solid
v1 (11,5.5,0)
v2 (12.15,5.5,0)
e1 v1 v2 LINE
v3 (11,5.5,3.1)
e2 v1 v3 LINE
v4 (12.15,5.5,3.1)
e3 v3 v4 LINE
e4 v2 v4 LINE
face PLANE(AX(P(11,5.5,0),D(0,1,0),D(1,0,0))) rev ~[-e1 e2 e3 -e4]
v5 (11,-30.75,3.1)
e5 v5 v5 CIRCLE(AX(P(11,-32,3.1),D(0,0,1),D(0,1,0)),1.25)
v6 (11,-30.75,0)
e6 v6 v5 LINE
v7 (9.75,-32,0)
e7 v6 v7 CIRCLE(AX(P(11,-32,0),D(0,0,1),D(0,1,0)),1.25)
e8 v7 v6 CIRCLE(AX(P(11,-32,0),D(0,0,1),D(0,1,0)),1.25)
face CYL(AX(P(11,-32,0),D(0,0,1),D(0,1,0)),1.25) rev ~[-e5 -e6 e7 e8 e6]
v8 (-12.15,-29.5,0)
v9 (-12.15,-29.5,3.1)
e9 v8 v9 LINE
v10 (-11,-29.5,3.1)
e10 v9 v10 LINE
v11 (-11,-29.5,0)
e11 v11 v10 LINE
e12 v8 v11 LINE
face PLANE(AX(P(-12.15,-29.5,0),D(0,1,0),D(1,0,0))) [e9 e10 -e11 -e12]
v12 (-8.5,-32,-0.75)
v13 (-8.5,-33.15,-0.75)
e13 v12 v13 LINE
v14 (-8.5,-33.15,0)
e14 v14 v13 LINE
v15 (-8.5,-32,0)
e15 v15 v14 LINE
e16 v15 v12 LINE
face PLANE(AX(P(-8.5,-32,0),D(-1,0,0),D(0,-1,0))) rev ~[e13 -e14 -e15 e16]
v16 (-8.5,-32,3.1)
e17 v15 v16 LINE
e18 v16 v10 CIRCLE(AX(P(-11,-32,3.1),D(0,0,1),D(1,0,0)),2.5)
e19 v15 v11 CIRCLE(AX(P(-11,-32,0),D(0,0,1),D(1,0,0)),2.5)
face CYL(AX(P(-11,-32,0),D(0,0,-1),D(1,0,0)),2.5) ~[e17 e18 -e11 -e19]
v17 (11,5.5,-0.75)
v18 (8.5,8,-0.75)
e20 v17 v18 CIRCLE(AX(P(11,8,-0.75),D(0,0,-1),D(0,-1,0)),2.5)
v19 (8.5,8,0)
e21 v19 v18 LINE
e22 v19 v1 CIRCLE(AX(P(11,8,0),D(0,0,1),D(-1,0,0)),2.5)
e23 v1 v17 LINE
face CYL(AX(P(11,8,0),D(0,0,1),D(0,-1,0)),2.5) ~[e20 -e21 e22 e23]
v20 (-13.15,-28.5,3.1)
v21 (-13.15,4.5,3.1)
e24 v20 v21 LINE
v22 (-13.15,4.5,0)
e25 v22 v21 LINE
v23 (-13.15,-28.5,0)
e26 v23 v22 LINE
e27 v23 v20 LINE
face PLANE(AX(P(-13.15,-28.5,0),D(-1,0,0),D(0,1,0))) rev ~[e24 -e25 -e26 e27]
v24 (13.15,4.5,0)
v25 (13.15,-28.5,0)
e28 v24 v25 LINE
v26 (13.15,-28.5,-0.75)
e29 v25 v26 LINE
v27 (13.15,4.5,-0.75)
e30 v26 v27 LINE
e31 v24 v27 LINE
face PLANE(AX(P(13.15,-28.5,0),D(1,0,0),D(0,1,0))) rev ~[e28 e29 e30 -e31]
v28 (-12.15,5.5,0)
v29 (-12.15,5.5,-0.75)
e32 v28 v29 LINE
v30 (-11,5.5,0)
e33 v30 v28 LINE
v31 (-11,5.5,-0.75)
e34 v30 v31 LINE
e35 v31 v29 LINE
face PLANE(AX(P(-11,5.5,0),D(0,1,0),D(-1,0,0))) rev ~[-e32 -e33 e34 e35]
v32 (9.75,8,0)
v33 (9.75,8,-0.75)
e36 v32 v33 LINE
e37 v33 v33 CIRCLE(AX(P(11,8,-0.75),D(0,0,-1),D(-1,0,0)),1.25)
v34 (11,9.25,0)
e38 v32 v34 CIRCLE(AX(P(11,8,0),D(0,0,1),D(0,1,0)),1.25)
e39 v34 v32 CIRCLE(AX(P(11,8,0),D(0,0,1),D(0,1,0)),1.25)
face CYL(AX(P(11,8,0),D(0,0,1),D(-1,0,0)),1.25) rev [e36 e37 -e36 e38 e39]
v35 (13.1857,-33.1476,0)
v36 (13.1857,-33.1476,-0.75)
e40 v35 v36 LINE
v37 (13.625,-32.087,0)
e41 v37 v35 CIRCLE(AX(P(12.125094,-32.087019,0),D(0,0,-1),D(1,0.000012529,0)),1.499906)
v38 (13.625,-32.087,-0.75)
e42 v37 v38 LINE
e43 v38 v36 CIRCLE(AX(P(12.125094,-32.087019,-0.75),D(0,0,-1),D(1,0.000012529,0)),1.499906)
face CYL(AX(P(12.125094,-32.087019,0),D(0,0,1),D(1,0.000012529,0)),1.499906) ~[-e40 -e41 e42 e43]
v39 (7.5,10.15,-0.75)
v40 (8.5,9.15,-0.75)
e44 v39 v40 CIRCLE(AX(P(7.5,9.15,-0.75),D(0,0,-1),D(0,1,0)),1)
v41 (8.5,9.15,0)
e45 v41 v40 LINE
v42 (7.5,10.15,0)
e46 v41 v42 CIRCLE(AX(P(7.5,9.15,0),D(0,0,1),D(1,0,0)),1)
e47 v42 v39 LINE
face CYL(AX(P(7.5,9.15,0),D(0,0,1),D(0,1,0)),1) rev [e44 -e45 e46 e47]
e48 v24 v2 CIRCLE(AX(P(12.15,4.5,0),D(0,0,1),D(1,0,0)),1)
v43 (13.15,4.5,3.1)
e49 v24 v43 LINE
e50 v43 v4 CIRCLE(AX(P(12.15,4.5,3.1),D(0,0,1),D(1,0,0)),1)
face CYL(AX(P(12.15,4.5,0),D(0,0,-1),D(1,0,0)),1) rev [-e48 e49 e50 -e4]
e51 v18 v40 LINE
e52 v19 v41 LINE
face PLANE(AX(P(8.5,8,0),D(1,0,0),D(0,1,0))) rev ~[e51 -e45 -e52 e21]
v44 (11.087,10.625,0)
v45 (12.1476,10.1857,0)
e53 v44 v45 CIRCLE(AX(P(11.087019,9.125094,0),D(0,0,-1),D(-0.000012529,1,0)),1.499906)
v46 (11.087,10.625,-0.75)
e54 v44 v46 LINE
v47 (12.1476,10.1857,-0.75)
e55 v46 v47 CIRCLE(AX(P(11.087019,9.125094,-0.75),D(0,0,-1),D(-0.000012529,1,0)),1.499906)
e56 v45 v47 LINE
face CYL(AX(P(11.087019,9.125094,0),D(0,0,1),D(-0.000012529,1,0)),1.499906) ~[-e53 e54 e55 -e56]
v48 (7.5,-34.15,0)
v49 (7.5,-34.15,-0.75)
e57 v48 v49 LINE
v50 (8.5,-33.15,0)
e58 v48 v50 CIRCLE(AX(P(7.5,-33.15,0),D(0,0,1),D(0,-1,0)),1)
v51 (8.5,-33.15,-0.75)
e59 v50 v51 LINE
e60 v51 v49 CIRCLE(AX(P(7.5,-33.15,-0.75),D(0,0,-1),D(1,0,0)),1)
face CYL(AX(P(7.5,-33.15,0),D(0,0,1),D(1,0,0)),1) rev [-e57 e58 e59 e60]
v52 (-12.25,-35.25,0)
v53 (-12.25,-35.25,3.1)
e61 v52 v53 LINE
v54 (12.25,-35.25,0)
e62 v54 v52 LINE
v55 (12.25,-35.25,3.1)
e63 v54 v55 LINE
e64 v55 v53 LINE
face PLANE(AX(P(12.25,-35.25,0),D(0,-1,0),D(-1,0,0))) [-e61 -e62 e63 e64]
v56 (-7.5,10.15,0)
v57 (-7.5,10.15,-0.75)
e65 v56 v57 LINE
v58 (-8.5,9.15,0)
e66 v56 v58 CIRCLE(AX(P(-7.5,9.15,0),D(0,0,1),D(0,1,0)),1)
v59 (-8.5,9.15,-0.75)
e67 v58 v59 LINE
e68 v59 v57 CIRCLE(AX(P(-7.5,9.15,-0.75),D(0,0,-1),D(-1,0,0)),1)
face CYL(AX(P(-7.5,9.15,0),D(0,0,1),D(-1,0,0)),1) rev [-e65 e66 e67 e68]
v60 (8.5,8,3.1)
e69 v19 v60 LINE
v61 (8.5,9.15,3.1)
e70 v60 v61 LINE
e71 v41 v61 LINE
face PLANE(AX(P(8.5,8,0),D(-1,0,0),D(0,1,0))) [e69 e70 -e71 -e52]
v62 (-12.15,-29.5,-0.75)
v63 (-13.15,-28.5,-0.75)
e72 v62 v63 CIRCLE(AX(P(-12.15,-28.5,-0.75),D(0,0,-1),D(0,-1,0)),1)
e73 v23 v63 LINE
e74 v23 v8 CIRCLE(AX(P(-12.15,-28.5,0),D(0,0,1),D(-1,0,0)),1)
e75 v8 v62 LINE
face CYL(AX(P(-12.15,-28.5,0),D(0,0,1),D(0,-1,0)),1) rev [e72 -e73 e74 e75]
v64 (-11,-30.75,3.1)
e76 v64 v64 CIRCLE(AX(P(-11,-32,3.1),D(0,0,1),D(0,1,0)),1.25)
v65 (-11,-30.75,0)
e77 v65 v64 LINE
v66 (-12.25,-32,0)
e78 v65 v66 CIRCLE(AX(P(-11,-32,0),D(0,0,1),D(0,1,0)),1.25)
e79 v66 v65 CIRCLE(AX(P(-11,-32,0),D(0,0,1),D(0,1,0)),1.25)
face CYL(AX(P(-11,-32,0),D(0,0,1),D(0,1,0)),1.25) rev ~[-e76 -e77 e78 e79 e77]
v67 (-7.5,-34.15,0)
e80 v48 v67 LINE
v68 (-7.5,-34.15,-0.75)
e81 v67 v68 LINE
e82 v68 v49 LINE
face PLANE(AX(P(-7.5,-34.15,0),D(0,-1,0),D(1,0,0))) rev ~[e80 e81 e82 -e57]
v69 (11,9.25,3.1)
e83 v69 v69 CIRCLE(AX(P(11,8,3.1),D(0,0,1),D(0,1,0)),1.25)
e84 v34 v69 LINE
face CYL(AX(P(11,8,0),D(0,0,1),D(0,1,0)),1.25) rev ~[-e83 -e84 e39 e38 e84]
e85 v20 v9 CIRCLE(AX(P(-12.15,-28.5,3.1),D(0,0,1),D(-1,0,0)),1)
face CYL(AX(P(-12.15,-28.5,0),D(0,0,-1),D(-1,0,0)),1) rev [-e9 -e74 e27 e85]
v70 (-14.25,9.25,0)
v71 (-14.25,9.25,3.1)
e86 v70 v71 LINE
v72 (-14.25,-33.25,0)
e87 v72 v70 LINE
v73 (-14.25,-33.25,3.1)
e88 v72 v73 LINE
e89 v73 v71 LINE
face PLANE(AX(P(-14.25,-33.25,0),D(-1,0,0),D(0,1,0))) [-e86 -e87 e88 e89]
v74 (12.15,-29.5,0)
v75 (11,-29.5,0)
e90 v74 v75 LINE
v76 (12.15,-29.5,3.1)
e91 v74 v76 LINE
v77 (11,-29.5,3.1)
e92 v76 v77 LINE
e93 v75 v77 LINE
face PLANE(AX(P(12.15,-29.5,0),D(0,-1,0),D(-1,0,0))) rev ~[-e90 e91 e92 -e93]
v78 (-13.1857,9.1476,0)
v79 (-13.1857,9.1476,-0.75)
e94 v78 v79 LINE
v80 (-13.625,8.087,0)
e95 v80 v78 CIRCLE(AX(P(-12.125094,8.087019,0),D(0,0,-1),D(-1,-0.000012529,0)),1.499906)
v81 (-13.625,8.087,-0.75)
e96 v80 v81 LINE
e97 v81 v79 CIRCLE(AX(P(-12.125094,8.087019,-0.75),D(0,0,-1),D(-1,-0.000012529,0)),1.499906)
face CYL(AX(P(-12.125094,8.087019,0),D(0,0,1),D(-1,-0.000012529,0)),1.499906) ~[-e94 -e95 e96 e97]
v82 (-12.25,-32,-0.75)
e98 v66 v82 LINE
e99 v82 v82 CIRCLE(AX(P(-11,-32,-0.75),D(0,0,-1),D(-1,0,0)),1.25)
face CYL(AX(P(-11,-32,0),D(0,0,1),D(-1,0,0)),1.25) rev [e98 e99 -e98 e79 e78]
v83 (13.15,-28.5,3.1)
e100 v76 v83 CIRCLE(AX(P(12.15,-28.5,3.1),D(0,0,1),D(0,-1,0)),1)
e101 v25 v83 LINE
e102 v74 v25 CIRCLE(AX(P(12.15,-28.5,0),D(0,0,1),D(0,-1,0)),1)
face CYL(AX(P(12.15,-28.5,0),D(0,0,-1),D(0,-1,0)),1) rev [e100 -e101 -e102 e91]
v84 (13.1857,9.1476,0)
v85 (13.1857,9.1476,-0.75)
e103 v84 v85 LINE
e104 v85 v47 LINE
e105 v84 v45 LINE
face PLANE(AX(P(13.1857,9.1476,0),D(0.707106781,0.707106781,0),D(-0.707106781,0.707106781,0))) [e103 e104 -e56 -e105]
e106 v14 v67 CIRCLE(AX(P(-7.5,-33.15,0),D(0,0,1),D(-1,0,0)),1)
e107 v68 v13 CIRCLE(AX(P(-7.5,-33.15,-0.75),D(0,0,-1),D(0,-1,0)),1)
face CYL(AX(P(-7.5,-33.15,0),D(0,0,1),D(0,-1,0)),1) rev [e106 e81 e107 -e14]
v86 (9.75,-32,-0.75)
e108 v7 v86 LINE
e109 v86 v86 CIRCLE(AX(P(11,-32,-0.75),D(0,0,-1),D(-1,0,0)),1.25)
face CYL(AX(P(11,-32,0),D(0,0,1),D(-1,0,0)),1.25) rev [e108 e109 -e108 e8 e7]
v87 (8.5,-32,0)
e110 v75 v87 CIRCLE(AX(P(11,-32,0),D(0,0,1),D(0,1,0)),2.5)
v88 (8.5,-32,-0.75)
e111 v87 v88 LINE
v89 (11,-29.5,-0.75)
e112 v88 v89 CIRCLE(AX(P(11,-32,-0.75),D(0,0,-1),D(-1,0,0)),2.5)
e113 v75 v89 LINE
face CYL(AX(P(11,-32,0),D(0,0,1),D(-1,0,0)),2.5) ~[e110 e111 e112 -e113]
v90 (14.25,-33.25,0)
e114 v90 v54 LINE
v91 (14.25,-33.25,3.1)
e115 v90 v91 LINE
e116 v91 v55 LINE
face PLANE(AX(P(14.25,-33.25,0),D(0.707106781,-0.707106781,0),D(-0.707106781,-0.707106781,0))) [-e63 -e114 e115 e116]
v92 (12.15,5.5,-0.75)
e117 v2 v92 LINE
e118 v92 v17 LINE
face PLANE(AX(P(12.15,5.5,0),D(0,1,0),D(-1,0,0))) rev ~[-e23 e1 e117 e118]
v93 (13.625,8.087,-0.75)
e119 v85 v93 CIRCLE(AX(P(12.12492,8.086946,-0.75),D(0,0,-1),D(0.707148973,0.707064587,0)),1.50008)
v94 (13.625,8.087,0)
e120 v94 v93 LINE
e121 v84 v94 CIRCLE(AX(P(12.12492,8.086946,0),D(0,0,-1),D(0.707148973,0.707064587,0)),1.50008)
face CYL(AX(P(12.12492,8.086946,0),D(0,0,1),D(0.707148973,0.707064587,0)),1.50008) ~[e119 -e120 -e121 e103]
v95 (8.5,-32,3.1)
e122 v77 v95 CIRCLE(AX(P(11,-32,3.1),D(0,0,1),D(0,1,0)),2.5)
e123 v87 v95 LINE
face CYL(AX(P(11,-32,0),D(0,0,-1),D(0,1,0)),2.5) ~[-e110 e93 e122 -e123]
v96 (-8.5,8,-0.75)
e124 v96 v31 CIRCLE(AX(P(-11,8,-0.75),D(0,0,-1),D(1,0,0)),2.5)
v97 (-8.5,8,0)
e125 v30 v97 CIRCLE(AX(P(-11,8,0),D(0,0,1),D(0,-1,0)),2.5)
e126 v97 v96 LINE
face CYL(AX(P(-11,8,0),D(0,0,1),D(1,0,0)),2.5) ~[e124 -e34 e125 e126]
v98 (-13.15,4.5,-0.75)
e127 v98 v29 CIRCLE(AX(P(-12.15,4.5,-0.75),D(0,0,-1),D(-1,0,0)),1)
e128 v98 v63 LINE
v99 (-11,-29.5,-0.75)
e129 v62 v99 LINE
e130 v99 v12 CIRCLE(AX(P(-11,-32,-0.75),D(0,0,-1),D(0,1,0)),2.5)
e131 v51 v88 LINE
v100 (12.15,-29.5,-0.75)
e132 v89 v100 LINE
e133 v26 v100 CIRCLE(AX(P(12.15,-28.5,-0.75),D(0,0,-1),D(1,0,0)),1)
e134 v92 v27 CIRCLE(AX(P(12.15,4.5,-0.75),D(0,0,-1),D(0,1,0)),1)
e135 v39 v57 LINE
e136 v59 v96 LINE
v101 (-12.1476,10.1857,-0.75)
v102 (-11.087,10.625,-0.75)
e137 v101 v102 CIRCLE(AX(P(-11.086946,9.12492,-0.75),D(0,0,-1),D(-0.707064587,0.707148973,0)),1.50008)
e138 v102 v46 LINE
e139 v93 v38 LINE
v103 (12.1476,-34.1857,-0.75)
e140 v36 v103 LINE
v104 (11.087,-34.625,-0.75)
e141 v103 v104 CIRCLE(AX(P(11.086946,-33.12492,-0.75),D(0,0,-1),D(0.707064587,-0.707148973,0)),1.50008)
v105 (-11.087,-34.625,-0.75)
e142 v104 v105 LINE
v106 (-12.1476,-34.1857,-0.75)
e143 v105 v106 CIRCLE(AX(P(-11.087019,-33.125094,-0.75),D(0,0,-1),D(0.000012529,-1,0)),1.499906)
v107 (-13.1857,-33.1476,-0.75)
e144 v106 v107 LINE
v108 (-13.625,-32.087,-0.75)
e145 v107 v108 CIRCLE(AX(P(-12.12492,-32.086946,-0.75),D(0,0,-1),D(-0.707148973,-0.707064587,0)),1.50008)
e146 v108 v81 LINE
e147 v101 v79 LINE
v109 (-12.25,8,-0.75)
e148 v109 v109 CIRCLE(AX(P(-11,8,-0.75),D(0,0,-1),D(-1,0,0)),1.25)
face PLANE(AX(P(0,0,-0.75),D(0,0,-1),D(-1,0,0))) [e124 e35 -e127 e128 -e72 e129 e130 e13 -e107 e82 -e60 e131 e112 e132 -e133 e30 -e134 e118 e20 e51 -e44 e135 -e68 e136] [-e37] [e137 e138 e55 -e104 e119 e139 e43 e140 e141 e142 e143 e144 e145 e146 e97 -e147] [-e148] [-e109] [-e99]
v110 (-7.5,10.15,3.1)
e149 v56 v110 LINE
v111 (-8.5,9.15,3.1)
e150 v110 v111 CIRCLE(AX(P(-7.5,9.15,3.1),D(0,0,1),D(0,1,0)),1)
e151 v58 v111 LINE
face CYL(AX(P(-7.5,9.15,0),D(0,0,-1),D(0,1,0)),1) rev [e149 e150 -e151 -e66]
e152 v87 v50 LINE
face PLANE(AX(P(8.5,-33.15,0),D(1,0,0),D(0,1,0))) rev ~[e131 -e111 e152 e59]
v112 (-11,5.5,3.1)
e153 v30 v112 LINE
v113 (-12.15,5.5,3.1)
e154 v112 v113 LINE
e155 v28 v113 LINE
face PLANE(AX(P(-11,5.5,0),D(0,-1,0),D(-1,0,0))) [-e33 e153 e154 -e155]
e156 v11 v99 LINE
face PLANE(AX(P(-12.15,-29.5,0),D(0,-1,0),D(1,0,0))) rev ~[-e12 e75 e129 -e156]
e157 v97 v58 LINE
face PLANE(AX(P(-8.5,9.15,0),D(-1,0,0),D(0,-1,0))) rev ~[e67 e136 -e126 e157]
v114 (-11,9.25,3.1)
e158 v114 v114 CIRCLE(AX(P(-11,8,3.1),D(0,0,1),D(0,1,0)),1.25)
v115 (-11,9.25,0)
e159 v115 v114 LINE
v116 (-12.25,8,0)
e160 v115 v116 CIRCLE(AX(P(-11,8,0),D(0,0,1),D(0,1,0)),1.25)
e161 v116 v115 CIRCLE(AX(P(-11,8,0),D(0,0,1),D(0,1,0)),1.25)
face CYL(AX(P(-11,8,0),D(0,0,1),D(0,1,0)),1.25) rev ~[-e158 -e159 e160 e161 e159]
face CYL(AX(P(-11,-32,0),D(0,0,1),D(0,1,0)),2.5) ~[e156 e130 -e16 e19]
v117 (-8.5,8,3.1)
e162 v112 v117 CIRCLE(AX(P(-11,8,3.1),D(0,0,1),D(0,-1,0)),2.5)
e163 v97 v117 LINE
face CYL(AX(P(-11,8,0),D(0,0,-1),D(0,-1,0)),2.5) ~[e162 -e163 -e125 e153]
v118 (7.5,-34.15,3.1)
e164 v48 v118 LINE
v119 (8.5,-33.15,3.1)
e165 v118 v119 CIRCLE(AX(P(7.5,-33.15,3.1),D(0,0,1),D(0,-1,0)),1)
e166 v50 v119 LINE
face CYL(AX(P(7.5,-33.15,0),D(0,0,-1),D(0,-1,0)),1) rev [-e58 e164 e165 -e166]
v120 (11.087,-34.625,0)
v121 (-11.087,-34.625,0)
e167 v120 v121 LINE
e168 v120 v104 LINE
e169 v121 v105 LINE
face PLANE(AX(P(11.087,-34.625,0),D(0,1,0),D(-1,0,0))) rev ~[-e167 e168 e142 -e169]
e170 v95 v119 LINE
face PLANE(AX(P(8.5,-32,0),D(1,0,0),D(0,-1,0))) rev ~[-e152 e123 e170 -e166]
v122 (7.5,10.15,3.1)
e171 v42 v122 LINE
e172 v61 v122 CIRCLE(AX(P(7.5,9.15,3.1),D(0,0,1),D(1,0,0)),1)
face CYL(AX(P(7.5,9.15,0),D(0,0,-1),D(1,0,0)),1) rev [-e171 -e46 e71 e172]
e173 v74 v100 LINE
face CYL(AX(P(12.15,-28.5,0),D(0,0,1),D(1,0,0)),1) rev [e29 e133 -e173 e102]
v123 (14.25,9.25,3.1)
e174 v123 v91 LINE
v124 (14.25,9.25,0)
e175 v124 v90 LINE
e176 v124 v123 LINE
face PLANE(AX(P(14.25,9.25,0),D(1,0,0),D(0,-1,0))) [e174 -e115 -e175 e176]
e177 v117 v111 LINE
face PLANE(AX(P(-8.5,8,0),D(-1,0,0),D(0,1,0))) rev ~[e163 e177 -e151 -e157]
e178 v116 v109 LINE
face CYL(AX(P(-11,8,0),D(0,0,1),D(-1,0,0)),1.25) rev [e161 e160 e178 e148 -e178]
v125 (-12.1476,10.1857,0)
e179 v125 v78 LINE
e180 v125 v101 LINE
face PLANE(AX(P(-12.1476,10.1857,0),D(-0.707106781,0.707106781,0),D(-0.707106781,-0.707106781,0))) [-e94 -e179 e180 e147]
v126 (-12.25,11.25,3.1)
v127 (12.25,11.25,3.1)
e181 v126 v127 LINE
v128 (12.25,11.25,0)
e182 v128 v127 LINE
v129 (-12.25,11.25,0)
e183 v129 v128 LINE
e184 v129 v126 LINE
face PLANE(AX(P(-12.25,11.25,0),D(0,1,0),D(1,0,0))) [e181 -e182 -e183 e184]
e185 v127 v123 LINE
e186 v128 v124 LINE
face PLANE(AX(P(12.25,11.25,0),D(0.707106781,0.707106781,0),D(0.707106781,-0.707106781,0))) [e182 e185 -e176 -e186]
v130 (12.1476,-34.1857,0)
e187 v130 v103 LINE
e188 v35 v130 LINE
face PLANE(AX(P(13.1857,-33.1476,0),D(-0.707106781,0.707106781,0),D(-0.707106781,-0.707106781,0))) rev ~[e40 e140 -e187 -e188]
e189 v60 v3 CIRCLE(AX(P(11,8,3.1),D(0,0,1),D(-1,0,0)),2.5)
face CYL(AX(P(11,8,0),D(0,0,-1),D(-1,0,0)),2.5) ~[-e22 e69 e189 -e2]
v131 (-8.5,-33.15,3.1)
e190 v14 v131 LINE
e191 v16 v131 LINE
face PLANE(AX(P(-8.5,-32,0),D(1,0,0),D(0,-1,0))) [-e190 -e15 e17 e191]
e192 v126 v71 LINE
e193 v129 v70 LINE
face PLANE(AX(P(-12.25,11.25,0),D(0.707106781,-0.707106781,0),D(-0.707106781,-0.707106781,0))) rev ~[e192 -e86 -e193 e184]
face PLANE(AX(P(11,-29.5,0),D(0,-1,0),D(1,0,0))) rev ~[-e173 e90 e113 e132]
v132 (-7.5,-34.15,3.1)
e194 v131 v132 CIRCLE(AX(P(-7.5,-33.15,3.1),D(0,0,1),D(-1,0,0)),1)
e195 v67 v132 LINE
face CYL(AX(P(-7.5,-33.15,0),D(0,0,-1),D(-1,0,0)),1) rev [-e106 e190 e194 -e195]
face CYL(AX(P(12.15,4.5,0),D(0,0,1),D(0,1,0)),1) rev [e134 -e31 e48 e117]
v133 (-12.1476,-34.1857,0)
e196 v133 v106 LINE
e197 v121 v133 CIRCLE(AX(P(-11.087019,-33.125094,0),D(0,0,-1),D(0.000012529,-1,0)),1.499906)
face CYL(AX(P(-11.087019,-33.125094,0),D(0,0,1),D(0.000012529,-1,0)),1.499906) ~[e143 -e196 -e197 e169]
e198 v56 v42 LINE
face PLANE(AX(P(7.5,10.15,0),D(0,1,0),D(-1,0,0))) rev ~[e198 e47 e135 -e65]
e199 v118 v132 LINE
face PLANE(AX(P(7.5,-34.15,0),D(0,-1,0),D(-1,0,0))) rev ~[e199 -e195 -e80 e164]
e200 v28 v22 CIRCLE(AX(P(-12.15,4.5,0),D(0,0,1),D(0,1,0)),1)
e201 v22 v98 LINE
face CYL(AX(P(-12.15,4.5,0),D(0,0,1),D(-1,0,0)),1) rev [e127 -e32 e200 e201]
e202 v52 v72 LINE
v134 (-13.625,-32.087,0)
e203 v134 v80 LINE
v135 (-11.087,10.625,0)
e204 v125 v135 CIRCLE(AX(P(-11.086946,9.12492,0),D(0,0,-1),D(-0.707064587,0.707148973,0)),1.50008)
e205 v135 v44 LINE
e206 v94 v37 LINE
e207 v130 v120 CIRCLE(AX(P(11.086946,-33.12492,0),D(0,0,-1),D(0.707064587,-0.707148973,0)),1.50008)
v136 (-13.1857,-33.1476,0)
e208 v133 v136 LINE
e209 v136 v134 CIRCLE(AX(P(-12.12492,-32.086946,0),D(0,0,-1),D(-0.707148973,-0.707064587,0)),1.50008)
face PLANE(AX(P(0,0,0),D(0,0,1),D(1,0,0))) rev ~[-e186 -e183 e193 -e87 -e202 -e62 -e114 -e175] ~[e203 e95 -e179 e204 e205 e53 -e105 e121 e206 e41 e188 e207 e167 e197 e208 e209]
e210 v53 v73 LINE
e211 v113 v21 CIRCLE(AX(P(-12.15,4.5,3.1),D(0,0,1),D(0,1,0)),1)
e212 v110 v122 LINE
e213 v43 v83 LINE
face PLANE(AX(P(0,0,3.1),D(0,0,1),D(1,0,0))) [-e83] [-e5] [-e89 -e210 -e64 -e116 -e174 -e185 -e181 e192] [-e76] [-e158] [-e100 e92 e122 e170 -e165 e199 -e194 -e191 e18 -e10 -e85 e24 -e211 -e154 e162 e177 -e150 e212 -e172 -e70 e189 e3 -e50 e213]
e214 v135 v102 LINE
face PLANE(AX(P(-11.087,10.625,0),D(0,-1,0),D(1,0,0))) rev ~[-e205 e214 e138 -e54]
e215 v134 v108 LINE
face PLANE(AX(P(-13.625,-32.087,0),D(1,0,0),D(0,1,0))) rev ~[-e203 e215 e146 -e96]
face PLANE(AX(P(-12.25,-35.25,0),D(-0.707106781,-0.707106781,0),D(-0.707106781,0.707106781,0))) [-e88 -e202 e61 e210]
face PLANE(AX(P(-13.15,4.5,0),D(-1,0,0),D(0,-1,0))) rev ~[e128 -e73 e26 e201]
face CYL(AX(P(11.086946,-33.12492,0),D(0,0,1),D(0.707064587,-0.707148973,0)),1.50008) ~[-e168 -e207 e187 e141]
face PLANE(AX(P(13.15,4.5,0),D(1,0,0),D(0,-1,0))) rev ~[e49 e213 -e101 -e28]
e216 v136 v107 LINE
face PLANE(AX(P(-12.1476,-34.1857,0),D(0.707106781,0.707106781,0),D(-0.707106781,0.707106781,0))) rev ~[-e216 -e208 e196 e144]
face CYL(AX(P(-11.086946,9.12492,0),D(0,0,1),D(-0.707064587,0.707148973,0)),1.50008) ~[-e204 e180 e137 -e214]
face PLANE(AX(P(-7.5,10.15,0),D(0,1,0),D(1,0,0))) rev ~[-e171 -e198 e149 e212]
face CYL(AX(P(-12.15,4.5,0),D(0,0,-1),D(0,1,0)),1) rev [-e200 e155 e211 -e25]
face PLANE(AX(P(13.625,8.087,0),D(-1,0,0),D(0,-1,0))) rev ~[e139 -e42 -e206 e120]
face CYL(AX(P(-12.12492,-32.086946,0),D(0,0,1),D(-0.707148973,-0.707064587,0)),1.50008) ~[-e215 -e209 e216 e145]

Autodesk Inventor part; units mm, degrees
ref_plane "YZ Plane" through (0, 0, 0) normal (1, 0, 0) x (0, 1, 0)
ref_plane "XZ Plane" through (0, 0, 0) normal (0, 1, 0) x (-1, 0, 0)
ref_plane "XY Plane" through (0, 0, 0) normal (0, 0, 1) x (1, 0, 0)
sketch "スケッチ1" plane through (0, 0, 0) normal (0, 0, 1) x (1, 0, 0)
  line L0 (-12.25, 11.25) -> (12.25, 11.25)
  line L1 (14.25, 9.25) -> (14.25, -33.25)
  line L2 (12.25, -35.25) -> (-12.25, -35.25)
  line L3 (-14.25, -33.25) -> (-14.25, 9.25)
  line L4 (-12.25, 11.25) -> (-14.25, 9.25)
  line L5 (12.25, 11.25) -> (14.25, 9.25)
  line L6 (14.25, -33.25) -> (12.25, -35.25)
  line L7 (-12.25, -35.25) -> (-14.25, -33.25)
  line L8 (0, 0) -> (-26.5626, 0) construction
  line L9 (0, 0) -> (0, 27.9433) construction
  line L10 (-11, 8) -> (11, 8) construction
  line L11 (11, 8) -> (11, -32) construction
  line L12 (11, -32) -> (-11, -32) construction
  line L13 (-11, -32) -> (-11, 8) construction
  line L14 (-13.15, -28.5) -> (-13.15, 4.5)
  line L15 (-7.5, 10.15) -> (7.5, 10.15)
  line L16 (13.15, 4.5) -> (13.15, -28.5)
  line L17 (7.5, -34.15) -> (-7.5, -34.15)
  line L18 (8.5, 8) -> (8.5, 9.15)
  line L19 (11, 5.5) -> (12.15, 5.5)
  arc A0 (8.5, 8) -> (11, 5.5) centre (11, 8) ccw
  line L20 (12.15, -29.5) -> (11, -29.5)
  line L21 (8.5, -32) -> (8.5, -33.15)
  arc A1 (11, -29.5) -> (8.5, -32) centre (11, -32) ccw
  line L22 (-8.5, 8) -> (-8.5, 9.15)
  line L23 (-11, 5.5) -> (-12.15, 5.5)
  arc A2 (-11, 5.5) -> (-8.5, 8) centre (-11, 8) ccw
  line L24 (-12.15, -29.5) -> (-11, -29.5)
  line L25 (-8.5, -32) -> (-8.5, -33.15)
  arc A3 (-8.5, -32) -> (-11, -29.5) centre (-11, -32) ccw
  arc A4 (8.5, 9.15) -> (7.5, 10.15) centre (7.5, 9.15) ccw
  arc A5 (13.15, 4.5) -> (12.15, 5.5) centre (12.15, 4.5) ccw
  arc A6 (12.15, -29.5) -> (13.15, -28.5) centre (12.15, -28.5) ccw
  arc A7 (7.5, -34.15) -> (8.5, -33.15) centre (7.5, -33.15) ccw
  arc A8 (-8.5, -33.15) -> (-7.5, -34.15) centre (-7.5, -33.15) ccw
  arc A9 (-13.15, -28.5) -> (-12.15, -29.5) centre (-12.15, -28.5) ccw
  arc A10 (-12.15, 5.5) -> (-13.15, 4.5) centre (-12.15, 4.5) ccw
  arc A11 (-7.5, 10.15) -> (-8.5, 9.15) centre (-7.5, 9.15) ccw
  point P0 (-14.25, 11.25)
  point P1 (14.25, -35.25)
  point P2 (14.25, 11.25)
  point P3 (-14.25, -35.25)
  point P4 (8.5, 10.15)
  point P5 (13.15, 5.5)
  point P6 (13.15, -29.5)
  point P7 (8.5, -34.15)
  point P8 (-8.5, 10.15)
  point P9 (-13.15, 5.5)
  point P10 (-13.15, -29.5)
  point P11 (-8.5, -34.15)
  dimension "d0" = 2
  dimension "d1" = 2
  dimension "d2" = 2
  dimension "d3" = 2
  dimension "d4" = 2
  dimension "d5" = 2
  dimension "d6" = 2
  dimension "d7" = 2
  dimension "d8" = 28.5
  dimension "d9" = 11.25
  dimension "d10" = 46.5
  dimension "d11" = 8
  dimension "d12" = 22
  dimension "d13" = 40
  dimension "d14" = 1.1
  dimension "d15" = 2.5
  dimension "d16" = 2.5
  dimension "d17" = 1.1
  dimension "d18" = 1.1
  dimension "d19" = 1
extrude "押し出し1" add sketch "スケッチ1" along normal blind 3.1
hole "穴1" at (-11, 8, 0) at (11, 8, 0) at (11, -32, 0) at (-11, -32, 0) direction (0, 0, 1) diameter 2.5 end through all
sketch "スケッチ3" plane through (0, 0, 0) normal (0, 0, -1) x (-1, 0, 0)
  line L0 (-12.25, 11.25) -> (12.25, 11.25) construction
  line L1 (12.25, 11.25) -> (14.25, 9.25) construction
  line L2 (14.25, 9.25) -> (14.25, -33.25) construction
  line L3 (14.25, -33.25) -> (12.25, -35.25) construction
  line L4 (12.25, -35.25) -> (-12.25, -35.25) construction
  line L5 (-12.25, -35.25) -> (-14.25, -33.25) construction
  line L6 (-14.25, -33.25) -> (-14.25, 9.25) construction
  line L7 (-14.25, 9.25) -> (-12.25, 11.25) construction
  line L8 (11.087, 10.625) -> (-11.087, 10.625)
  line L9 (-11.9911, 10.625) -> (-13.625, 8.9911) construction
  line L10 (-13.625, 8.087) -> (-13.625, -32.087)
  line L11 (-13.625, -32.9911) -> (-11.9911, -34.625) construction
  line L12 (-11.087, -34.625) -> (11.087, -34.625)
  line L13 (11.9911, -34.625) -> (13.625, -32.9911) construction
  line L14 (13.625, -32.087) -> (13.625, 8.087)
  line L15 (13.625, 8.9911) -> (11.9911, 10.625) construction
  line L16 (-13.1857, -33.1476) -> (-12.1476, -34.1857)
  line L17 (12.1476, -34.1857) -> (13.1857, -33.1476)
  line L18 (12.1476, 10.1857) -> (13.1857, 9.1476)
  line L19 (-13.1857, 9.1476) -> (-12.1476, 10.1857)
  arc A0 (-13.1857, 9.1476) -> (-13.625, 8.087) centre (-12.125, 8.087) ccw
  arc A1 (-11.087, 10.625) -> (-12.1476, 10.1857) centre (-11.087, 9.125) ccw
  arc A2 (12.1476, 10.1857) -> (11.087, 10.625) centre (11.087, 9.125) ccw
  arc A3 (13.625, 8.087) -> (13.1857, 9.1476) centre (12.125, 8.087) ccw
  arc A4 (13.1857, -33.1476) -> (13.625, -32.087) centre (12.125, -32.087) ccw
  arc A5 (11.087, -34.625) -> (12.1476, -34.1857) centre (11.087, -33.125) ccw
  arc A6 (-12.1476, -34.1857) -> (-11.087, -34.625) centre (-11.087, -33.125) ccw
  arc A7 (-13.625, -32.087) -> (-13.1857, -33.1476) centre (-12.125, -32.087) ccw
  arc A8 (-12.15, 5.5) -> (-13.15, 4.5) centre (-12.15, 4.5) ccw projected
  line L20 (-12.15, 5.5) -> (-11, 5.5) projected
  arc A9 (-11, 5.5) -> (-8.5, 8) centre (-11, 8) ccw projected
  line L21 (-8.5, 8) -> (-8.5, 9.15) projected
  arc A10 (-7.5, 10.15) -> (-8.5, 9.15) centre (-7.5, 9.15) ccw projected
  line L22 (-7.5, 10.15) -> (7.5, 10.15) projected
  arc A11 (8.5, 9.15) -> (7.5, 10.15) centre (7.5, 9.15) ccw projected
  line L23 (8.5, 9.15) -> (8.5, 8) projected
  arc A12 (8.5, 8) -> (11, 5.5) centre (11, 8) ccw projected
  line L24 (11, 5.5) -> (12.15, 5.5) projected
  arc A13 (13.15, 4.5) -> (12.15, 5.5) centre (12.15, 4.5) ccw projected
  circle A14 centre (11, 8) radius 1.25 projected
  line L25 (13.15, 4.5) -> (13.15, -28.5) projected
  arc A15 (12.15, -29.5) -> (13.15, -28.5) centre (12.15, -28.5) ccw projected
  line L26 (12.15, -29.5) -> (11, -29.5) projected
  arc A16 (11, -29.5) -> (8.5, -32) centre (11, -32) ccw projected
  line L27 (8.5, -32) -> (8.5, -33.15) projected
  arc A17 (7.5, -34.15) -> (8.5, -33.15) centre (7.5, -33.15) ccw projected
  circle A18 centre (11, -32) radius 1.25 projected
  line L28 (7.5, -34.15) -> (-7.5, -34.15) projected
  arc A19 (-8.5, -33.15) -> (-7.5, -34.15) centre (-7.5, -33.15) ccw projected
  line L29 (-8.5, -33.15) -> (-8.5, -32) projected
  arc A20 (-8.5, -32) -> (-11, -29.5) centre (-11, -32) ccw projected
  line L30 (-11, -29.5) -> (-12.15, -29.5) projected
  arc A21 (-13.15, -28.5) -> (-12.15, -29.5) centre (-12.15, -28.5) ccw projected
  circle A22 centre (-11, -32) radius 1.25 projected
  line L31 (-13.15, -28.5) -> (-13.15, 4.5) projected
  circle A23 centre (-11, 8) radius 1.25 projected
  point P0 (0, 0)
  dimension "d30" = 0.625
  dimension "d31" = 1.5
  dimension "d32" = 0.2
extrude "押し出し2" add sketch "スケッチ3" along normal blind 0.75
equation "\"d1\" = d0"
equation "\"d2\" = d0"
equation "\"d3\" = d2"
equation "\"d4\" = d0"
equation "\"d5\" = d4"
equation "\"d6\" = d0"
equation "\"d7\" = d6"
properties part number "COXA_YAW_ROLL_ADPT_SPACER_2"
